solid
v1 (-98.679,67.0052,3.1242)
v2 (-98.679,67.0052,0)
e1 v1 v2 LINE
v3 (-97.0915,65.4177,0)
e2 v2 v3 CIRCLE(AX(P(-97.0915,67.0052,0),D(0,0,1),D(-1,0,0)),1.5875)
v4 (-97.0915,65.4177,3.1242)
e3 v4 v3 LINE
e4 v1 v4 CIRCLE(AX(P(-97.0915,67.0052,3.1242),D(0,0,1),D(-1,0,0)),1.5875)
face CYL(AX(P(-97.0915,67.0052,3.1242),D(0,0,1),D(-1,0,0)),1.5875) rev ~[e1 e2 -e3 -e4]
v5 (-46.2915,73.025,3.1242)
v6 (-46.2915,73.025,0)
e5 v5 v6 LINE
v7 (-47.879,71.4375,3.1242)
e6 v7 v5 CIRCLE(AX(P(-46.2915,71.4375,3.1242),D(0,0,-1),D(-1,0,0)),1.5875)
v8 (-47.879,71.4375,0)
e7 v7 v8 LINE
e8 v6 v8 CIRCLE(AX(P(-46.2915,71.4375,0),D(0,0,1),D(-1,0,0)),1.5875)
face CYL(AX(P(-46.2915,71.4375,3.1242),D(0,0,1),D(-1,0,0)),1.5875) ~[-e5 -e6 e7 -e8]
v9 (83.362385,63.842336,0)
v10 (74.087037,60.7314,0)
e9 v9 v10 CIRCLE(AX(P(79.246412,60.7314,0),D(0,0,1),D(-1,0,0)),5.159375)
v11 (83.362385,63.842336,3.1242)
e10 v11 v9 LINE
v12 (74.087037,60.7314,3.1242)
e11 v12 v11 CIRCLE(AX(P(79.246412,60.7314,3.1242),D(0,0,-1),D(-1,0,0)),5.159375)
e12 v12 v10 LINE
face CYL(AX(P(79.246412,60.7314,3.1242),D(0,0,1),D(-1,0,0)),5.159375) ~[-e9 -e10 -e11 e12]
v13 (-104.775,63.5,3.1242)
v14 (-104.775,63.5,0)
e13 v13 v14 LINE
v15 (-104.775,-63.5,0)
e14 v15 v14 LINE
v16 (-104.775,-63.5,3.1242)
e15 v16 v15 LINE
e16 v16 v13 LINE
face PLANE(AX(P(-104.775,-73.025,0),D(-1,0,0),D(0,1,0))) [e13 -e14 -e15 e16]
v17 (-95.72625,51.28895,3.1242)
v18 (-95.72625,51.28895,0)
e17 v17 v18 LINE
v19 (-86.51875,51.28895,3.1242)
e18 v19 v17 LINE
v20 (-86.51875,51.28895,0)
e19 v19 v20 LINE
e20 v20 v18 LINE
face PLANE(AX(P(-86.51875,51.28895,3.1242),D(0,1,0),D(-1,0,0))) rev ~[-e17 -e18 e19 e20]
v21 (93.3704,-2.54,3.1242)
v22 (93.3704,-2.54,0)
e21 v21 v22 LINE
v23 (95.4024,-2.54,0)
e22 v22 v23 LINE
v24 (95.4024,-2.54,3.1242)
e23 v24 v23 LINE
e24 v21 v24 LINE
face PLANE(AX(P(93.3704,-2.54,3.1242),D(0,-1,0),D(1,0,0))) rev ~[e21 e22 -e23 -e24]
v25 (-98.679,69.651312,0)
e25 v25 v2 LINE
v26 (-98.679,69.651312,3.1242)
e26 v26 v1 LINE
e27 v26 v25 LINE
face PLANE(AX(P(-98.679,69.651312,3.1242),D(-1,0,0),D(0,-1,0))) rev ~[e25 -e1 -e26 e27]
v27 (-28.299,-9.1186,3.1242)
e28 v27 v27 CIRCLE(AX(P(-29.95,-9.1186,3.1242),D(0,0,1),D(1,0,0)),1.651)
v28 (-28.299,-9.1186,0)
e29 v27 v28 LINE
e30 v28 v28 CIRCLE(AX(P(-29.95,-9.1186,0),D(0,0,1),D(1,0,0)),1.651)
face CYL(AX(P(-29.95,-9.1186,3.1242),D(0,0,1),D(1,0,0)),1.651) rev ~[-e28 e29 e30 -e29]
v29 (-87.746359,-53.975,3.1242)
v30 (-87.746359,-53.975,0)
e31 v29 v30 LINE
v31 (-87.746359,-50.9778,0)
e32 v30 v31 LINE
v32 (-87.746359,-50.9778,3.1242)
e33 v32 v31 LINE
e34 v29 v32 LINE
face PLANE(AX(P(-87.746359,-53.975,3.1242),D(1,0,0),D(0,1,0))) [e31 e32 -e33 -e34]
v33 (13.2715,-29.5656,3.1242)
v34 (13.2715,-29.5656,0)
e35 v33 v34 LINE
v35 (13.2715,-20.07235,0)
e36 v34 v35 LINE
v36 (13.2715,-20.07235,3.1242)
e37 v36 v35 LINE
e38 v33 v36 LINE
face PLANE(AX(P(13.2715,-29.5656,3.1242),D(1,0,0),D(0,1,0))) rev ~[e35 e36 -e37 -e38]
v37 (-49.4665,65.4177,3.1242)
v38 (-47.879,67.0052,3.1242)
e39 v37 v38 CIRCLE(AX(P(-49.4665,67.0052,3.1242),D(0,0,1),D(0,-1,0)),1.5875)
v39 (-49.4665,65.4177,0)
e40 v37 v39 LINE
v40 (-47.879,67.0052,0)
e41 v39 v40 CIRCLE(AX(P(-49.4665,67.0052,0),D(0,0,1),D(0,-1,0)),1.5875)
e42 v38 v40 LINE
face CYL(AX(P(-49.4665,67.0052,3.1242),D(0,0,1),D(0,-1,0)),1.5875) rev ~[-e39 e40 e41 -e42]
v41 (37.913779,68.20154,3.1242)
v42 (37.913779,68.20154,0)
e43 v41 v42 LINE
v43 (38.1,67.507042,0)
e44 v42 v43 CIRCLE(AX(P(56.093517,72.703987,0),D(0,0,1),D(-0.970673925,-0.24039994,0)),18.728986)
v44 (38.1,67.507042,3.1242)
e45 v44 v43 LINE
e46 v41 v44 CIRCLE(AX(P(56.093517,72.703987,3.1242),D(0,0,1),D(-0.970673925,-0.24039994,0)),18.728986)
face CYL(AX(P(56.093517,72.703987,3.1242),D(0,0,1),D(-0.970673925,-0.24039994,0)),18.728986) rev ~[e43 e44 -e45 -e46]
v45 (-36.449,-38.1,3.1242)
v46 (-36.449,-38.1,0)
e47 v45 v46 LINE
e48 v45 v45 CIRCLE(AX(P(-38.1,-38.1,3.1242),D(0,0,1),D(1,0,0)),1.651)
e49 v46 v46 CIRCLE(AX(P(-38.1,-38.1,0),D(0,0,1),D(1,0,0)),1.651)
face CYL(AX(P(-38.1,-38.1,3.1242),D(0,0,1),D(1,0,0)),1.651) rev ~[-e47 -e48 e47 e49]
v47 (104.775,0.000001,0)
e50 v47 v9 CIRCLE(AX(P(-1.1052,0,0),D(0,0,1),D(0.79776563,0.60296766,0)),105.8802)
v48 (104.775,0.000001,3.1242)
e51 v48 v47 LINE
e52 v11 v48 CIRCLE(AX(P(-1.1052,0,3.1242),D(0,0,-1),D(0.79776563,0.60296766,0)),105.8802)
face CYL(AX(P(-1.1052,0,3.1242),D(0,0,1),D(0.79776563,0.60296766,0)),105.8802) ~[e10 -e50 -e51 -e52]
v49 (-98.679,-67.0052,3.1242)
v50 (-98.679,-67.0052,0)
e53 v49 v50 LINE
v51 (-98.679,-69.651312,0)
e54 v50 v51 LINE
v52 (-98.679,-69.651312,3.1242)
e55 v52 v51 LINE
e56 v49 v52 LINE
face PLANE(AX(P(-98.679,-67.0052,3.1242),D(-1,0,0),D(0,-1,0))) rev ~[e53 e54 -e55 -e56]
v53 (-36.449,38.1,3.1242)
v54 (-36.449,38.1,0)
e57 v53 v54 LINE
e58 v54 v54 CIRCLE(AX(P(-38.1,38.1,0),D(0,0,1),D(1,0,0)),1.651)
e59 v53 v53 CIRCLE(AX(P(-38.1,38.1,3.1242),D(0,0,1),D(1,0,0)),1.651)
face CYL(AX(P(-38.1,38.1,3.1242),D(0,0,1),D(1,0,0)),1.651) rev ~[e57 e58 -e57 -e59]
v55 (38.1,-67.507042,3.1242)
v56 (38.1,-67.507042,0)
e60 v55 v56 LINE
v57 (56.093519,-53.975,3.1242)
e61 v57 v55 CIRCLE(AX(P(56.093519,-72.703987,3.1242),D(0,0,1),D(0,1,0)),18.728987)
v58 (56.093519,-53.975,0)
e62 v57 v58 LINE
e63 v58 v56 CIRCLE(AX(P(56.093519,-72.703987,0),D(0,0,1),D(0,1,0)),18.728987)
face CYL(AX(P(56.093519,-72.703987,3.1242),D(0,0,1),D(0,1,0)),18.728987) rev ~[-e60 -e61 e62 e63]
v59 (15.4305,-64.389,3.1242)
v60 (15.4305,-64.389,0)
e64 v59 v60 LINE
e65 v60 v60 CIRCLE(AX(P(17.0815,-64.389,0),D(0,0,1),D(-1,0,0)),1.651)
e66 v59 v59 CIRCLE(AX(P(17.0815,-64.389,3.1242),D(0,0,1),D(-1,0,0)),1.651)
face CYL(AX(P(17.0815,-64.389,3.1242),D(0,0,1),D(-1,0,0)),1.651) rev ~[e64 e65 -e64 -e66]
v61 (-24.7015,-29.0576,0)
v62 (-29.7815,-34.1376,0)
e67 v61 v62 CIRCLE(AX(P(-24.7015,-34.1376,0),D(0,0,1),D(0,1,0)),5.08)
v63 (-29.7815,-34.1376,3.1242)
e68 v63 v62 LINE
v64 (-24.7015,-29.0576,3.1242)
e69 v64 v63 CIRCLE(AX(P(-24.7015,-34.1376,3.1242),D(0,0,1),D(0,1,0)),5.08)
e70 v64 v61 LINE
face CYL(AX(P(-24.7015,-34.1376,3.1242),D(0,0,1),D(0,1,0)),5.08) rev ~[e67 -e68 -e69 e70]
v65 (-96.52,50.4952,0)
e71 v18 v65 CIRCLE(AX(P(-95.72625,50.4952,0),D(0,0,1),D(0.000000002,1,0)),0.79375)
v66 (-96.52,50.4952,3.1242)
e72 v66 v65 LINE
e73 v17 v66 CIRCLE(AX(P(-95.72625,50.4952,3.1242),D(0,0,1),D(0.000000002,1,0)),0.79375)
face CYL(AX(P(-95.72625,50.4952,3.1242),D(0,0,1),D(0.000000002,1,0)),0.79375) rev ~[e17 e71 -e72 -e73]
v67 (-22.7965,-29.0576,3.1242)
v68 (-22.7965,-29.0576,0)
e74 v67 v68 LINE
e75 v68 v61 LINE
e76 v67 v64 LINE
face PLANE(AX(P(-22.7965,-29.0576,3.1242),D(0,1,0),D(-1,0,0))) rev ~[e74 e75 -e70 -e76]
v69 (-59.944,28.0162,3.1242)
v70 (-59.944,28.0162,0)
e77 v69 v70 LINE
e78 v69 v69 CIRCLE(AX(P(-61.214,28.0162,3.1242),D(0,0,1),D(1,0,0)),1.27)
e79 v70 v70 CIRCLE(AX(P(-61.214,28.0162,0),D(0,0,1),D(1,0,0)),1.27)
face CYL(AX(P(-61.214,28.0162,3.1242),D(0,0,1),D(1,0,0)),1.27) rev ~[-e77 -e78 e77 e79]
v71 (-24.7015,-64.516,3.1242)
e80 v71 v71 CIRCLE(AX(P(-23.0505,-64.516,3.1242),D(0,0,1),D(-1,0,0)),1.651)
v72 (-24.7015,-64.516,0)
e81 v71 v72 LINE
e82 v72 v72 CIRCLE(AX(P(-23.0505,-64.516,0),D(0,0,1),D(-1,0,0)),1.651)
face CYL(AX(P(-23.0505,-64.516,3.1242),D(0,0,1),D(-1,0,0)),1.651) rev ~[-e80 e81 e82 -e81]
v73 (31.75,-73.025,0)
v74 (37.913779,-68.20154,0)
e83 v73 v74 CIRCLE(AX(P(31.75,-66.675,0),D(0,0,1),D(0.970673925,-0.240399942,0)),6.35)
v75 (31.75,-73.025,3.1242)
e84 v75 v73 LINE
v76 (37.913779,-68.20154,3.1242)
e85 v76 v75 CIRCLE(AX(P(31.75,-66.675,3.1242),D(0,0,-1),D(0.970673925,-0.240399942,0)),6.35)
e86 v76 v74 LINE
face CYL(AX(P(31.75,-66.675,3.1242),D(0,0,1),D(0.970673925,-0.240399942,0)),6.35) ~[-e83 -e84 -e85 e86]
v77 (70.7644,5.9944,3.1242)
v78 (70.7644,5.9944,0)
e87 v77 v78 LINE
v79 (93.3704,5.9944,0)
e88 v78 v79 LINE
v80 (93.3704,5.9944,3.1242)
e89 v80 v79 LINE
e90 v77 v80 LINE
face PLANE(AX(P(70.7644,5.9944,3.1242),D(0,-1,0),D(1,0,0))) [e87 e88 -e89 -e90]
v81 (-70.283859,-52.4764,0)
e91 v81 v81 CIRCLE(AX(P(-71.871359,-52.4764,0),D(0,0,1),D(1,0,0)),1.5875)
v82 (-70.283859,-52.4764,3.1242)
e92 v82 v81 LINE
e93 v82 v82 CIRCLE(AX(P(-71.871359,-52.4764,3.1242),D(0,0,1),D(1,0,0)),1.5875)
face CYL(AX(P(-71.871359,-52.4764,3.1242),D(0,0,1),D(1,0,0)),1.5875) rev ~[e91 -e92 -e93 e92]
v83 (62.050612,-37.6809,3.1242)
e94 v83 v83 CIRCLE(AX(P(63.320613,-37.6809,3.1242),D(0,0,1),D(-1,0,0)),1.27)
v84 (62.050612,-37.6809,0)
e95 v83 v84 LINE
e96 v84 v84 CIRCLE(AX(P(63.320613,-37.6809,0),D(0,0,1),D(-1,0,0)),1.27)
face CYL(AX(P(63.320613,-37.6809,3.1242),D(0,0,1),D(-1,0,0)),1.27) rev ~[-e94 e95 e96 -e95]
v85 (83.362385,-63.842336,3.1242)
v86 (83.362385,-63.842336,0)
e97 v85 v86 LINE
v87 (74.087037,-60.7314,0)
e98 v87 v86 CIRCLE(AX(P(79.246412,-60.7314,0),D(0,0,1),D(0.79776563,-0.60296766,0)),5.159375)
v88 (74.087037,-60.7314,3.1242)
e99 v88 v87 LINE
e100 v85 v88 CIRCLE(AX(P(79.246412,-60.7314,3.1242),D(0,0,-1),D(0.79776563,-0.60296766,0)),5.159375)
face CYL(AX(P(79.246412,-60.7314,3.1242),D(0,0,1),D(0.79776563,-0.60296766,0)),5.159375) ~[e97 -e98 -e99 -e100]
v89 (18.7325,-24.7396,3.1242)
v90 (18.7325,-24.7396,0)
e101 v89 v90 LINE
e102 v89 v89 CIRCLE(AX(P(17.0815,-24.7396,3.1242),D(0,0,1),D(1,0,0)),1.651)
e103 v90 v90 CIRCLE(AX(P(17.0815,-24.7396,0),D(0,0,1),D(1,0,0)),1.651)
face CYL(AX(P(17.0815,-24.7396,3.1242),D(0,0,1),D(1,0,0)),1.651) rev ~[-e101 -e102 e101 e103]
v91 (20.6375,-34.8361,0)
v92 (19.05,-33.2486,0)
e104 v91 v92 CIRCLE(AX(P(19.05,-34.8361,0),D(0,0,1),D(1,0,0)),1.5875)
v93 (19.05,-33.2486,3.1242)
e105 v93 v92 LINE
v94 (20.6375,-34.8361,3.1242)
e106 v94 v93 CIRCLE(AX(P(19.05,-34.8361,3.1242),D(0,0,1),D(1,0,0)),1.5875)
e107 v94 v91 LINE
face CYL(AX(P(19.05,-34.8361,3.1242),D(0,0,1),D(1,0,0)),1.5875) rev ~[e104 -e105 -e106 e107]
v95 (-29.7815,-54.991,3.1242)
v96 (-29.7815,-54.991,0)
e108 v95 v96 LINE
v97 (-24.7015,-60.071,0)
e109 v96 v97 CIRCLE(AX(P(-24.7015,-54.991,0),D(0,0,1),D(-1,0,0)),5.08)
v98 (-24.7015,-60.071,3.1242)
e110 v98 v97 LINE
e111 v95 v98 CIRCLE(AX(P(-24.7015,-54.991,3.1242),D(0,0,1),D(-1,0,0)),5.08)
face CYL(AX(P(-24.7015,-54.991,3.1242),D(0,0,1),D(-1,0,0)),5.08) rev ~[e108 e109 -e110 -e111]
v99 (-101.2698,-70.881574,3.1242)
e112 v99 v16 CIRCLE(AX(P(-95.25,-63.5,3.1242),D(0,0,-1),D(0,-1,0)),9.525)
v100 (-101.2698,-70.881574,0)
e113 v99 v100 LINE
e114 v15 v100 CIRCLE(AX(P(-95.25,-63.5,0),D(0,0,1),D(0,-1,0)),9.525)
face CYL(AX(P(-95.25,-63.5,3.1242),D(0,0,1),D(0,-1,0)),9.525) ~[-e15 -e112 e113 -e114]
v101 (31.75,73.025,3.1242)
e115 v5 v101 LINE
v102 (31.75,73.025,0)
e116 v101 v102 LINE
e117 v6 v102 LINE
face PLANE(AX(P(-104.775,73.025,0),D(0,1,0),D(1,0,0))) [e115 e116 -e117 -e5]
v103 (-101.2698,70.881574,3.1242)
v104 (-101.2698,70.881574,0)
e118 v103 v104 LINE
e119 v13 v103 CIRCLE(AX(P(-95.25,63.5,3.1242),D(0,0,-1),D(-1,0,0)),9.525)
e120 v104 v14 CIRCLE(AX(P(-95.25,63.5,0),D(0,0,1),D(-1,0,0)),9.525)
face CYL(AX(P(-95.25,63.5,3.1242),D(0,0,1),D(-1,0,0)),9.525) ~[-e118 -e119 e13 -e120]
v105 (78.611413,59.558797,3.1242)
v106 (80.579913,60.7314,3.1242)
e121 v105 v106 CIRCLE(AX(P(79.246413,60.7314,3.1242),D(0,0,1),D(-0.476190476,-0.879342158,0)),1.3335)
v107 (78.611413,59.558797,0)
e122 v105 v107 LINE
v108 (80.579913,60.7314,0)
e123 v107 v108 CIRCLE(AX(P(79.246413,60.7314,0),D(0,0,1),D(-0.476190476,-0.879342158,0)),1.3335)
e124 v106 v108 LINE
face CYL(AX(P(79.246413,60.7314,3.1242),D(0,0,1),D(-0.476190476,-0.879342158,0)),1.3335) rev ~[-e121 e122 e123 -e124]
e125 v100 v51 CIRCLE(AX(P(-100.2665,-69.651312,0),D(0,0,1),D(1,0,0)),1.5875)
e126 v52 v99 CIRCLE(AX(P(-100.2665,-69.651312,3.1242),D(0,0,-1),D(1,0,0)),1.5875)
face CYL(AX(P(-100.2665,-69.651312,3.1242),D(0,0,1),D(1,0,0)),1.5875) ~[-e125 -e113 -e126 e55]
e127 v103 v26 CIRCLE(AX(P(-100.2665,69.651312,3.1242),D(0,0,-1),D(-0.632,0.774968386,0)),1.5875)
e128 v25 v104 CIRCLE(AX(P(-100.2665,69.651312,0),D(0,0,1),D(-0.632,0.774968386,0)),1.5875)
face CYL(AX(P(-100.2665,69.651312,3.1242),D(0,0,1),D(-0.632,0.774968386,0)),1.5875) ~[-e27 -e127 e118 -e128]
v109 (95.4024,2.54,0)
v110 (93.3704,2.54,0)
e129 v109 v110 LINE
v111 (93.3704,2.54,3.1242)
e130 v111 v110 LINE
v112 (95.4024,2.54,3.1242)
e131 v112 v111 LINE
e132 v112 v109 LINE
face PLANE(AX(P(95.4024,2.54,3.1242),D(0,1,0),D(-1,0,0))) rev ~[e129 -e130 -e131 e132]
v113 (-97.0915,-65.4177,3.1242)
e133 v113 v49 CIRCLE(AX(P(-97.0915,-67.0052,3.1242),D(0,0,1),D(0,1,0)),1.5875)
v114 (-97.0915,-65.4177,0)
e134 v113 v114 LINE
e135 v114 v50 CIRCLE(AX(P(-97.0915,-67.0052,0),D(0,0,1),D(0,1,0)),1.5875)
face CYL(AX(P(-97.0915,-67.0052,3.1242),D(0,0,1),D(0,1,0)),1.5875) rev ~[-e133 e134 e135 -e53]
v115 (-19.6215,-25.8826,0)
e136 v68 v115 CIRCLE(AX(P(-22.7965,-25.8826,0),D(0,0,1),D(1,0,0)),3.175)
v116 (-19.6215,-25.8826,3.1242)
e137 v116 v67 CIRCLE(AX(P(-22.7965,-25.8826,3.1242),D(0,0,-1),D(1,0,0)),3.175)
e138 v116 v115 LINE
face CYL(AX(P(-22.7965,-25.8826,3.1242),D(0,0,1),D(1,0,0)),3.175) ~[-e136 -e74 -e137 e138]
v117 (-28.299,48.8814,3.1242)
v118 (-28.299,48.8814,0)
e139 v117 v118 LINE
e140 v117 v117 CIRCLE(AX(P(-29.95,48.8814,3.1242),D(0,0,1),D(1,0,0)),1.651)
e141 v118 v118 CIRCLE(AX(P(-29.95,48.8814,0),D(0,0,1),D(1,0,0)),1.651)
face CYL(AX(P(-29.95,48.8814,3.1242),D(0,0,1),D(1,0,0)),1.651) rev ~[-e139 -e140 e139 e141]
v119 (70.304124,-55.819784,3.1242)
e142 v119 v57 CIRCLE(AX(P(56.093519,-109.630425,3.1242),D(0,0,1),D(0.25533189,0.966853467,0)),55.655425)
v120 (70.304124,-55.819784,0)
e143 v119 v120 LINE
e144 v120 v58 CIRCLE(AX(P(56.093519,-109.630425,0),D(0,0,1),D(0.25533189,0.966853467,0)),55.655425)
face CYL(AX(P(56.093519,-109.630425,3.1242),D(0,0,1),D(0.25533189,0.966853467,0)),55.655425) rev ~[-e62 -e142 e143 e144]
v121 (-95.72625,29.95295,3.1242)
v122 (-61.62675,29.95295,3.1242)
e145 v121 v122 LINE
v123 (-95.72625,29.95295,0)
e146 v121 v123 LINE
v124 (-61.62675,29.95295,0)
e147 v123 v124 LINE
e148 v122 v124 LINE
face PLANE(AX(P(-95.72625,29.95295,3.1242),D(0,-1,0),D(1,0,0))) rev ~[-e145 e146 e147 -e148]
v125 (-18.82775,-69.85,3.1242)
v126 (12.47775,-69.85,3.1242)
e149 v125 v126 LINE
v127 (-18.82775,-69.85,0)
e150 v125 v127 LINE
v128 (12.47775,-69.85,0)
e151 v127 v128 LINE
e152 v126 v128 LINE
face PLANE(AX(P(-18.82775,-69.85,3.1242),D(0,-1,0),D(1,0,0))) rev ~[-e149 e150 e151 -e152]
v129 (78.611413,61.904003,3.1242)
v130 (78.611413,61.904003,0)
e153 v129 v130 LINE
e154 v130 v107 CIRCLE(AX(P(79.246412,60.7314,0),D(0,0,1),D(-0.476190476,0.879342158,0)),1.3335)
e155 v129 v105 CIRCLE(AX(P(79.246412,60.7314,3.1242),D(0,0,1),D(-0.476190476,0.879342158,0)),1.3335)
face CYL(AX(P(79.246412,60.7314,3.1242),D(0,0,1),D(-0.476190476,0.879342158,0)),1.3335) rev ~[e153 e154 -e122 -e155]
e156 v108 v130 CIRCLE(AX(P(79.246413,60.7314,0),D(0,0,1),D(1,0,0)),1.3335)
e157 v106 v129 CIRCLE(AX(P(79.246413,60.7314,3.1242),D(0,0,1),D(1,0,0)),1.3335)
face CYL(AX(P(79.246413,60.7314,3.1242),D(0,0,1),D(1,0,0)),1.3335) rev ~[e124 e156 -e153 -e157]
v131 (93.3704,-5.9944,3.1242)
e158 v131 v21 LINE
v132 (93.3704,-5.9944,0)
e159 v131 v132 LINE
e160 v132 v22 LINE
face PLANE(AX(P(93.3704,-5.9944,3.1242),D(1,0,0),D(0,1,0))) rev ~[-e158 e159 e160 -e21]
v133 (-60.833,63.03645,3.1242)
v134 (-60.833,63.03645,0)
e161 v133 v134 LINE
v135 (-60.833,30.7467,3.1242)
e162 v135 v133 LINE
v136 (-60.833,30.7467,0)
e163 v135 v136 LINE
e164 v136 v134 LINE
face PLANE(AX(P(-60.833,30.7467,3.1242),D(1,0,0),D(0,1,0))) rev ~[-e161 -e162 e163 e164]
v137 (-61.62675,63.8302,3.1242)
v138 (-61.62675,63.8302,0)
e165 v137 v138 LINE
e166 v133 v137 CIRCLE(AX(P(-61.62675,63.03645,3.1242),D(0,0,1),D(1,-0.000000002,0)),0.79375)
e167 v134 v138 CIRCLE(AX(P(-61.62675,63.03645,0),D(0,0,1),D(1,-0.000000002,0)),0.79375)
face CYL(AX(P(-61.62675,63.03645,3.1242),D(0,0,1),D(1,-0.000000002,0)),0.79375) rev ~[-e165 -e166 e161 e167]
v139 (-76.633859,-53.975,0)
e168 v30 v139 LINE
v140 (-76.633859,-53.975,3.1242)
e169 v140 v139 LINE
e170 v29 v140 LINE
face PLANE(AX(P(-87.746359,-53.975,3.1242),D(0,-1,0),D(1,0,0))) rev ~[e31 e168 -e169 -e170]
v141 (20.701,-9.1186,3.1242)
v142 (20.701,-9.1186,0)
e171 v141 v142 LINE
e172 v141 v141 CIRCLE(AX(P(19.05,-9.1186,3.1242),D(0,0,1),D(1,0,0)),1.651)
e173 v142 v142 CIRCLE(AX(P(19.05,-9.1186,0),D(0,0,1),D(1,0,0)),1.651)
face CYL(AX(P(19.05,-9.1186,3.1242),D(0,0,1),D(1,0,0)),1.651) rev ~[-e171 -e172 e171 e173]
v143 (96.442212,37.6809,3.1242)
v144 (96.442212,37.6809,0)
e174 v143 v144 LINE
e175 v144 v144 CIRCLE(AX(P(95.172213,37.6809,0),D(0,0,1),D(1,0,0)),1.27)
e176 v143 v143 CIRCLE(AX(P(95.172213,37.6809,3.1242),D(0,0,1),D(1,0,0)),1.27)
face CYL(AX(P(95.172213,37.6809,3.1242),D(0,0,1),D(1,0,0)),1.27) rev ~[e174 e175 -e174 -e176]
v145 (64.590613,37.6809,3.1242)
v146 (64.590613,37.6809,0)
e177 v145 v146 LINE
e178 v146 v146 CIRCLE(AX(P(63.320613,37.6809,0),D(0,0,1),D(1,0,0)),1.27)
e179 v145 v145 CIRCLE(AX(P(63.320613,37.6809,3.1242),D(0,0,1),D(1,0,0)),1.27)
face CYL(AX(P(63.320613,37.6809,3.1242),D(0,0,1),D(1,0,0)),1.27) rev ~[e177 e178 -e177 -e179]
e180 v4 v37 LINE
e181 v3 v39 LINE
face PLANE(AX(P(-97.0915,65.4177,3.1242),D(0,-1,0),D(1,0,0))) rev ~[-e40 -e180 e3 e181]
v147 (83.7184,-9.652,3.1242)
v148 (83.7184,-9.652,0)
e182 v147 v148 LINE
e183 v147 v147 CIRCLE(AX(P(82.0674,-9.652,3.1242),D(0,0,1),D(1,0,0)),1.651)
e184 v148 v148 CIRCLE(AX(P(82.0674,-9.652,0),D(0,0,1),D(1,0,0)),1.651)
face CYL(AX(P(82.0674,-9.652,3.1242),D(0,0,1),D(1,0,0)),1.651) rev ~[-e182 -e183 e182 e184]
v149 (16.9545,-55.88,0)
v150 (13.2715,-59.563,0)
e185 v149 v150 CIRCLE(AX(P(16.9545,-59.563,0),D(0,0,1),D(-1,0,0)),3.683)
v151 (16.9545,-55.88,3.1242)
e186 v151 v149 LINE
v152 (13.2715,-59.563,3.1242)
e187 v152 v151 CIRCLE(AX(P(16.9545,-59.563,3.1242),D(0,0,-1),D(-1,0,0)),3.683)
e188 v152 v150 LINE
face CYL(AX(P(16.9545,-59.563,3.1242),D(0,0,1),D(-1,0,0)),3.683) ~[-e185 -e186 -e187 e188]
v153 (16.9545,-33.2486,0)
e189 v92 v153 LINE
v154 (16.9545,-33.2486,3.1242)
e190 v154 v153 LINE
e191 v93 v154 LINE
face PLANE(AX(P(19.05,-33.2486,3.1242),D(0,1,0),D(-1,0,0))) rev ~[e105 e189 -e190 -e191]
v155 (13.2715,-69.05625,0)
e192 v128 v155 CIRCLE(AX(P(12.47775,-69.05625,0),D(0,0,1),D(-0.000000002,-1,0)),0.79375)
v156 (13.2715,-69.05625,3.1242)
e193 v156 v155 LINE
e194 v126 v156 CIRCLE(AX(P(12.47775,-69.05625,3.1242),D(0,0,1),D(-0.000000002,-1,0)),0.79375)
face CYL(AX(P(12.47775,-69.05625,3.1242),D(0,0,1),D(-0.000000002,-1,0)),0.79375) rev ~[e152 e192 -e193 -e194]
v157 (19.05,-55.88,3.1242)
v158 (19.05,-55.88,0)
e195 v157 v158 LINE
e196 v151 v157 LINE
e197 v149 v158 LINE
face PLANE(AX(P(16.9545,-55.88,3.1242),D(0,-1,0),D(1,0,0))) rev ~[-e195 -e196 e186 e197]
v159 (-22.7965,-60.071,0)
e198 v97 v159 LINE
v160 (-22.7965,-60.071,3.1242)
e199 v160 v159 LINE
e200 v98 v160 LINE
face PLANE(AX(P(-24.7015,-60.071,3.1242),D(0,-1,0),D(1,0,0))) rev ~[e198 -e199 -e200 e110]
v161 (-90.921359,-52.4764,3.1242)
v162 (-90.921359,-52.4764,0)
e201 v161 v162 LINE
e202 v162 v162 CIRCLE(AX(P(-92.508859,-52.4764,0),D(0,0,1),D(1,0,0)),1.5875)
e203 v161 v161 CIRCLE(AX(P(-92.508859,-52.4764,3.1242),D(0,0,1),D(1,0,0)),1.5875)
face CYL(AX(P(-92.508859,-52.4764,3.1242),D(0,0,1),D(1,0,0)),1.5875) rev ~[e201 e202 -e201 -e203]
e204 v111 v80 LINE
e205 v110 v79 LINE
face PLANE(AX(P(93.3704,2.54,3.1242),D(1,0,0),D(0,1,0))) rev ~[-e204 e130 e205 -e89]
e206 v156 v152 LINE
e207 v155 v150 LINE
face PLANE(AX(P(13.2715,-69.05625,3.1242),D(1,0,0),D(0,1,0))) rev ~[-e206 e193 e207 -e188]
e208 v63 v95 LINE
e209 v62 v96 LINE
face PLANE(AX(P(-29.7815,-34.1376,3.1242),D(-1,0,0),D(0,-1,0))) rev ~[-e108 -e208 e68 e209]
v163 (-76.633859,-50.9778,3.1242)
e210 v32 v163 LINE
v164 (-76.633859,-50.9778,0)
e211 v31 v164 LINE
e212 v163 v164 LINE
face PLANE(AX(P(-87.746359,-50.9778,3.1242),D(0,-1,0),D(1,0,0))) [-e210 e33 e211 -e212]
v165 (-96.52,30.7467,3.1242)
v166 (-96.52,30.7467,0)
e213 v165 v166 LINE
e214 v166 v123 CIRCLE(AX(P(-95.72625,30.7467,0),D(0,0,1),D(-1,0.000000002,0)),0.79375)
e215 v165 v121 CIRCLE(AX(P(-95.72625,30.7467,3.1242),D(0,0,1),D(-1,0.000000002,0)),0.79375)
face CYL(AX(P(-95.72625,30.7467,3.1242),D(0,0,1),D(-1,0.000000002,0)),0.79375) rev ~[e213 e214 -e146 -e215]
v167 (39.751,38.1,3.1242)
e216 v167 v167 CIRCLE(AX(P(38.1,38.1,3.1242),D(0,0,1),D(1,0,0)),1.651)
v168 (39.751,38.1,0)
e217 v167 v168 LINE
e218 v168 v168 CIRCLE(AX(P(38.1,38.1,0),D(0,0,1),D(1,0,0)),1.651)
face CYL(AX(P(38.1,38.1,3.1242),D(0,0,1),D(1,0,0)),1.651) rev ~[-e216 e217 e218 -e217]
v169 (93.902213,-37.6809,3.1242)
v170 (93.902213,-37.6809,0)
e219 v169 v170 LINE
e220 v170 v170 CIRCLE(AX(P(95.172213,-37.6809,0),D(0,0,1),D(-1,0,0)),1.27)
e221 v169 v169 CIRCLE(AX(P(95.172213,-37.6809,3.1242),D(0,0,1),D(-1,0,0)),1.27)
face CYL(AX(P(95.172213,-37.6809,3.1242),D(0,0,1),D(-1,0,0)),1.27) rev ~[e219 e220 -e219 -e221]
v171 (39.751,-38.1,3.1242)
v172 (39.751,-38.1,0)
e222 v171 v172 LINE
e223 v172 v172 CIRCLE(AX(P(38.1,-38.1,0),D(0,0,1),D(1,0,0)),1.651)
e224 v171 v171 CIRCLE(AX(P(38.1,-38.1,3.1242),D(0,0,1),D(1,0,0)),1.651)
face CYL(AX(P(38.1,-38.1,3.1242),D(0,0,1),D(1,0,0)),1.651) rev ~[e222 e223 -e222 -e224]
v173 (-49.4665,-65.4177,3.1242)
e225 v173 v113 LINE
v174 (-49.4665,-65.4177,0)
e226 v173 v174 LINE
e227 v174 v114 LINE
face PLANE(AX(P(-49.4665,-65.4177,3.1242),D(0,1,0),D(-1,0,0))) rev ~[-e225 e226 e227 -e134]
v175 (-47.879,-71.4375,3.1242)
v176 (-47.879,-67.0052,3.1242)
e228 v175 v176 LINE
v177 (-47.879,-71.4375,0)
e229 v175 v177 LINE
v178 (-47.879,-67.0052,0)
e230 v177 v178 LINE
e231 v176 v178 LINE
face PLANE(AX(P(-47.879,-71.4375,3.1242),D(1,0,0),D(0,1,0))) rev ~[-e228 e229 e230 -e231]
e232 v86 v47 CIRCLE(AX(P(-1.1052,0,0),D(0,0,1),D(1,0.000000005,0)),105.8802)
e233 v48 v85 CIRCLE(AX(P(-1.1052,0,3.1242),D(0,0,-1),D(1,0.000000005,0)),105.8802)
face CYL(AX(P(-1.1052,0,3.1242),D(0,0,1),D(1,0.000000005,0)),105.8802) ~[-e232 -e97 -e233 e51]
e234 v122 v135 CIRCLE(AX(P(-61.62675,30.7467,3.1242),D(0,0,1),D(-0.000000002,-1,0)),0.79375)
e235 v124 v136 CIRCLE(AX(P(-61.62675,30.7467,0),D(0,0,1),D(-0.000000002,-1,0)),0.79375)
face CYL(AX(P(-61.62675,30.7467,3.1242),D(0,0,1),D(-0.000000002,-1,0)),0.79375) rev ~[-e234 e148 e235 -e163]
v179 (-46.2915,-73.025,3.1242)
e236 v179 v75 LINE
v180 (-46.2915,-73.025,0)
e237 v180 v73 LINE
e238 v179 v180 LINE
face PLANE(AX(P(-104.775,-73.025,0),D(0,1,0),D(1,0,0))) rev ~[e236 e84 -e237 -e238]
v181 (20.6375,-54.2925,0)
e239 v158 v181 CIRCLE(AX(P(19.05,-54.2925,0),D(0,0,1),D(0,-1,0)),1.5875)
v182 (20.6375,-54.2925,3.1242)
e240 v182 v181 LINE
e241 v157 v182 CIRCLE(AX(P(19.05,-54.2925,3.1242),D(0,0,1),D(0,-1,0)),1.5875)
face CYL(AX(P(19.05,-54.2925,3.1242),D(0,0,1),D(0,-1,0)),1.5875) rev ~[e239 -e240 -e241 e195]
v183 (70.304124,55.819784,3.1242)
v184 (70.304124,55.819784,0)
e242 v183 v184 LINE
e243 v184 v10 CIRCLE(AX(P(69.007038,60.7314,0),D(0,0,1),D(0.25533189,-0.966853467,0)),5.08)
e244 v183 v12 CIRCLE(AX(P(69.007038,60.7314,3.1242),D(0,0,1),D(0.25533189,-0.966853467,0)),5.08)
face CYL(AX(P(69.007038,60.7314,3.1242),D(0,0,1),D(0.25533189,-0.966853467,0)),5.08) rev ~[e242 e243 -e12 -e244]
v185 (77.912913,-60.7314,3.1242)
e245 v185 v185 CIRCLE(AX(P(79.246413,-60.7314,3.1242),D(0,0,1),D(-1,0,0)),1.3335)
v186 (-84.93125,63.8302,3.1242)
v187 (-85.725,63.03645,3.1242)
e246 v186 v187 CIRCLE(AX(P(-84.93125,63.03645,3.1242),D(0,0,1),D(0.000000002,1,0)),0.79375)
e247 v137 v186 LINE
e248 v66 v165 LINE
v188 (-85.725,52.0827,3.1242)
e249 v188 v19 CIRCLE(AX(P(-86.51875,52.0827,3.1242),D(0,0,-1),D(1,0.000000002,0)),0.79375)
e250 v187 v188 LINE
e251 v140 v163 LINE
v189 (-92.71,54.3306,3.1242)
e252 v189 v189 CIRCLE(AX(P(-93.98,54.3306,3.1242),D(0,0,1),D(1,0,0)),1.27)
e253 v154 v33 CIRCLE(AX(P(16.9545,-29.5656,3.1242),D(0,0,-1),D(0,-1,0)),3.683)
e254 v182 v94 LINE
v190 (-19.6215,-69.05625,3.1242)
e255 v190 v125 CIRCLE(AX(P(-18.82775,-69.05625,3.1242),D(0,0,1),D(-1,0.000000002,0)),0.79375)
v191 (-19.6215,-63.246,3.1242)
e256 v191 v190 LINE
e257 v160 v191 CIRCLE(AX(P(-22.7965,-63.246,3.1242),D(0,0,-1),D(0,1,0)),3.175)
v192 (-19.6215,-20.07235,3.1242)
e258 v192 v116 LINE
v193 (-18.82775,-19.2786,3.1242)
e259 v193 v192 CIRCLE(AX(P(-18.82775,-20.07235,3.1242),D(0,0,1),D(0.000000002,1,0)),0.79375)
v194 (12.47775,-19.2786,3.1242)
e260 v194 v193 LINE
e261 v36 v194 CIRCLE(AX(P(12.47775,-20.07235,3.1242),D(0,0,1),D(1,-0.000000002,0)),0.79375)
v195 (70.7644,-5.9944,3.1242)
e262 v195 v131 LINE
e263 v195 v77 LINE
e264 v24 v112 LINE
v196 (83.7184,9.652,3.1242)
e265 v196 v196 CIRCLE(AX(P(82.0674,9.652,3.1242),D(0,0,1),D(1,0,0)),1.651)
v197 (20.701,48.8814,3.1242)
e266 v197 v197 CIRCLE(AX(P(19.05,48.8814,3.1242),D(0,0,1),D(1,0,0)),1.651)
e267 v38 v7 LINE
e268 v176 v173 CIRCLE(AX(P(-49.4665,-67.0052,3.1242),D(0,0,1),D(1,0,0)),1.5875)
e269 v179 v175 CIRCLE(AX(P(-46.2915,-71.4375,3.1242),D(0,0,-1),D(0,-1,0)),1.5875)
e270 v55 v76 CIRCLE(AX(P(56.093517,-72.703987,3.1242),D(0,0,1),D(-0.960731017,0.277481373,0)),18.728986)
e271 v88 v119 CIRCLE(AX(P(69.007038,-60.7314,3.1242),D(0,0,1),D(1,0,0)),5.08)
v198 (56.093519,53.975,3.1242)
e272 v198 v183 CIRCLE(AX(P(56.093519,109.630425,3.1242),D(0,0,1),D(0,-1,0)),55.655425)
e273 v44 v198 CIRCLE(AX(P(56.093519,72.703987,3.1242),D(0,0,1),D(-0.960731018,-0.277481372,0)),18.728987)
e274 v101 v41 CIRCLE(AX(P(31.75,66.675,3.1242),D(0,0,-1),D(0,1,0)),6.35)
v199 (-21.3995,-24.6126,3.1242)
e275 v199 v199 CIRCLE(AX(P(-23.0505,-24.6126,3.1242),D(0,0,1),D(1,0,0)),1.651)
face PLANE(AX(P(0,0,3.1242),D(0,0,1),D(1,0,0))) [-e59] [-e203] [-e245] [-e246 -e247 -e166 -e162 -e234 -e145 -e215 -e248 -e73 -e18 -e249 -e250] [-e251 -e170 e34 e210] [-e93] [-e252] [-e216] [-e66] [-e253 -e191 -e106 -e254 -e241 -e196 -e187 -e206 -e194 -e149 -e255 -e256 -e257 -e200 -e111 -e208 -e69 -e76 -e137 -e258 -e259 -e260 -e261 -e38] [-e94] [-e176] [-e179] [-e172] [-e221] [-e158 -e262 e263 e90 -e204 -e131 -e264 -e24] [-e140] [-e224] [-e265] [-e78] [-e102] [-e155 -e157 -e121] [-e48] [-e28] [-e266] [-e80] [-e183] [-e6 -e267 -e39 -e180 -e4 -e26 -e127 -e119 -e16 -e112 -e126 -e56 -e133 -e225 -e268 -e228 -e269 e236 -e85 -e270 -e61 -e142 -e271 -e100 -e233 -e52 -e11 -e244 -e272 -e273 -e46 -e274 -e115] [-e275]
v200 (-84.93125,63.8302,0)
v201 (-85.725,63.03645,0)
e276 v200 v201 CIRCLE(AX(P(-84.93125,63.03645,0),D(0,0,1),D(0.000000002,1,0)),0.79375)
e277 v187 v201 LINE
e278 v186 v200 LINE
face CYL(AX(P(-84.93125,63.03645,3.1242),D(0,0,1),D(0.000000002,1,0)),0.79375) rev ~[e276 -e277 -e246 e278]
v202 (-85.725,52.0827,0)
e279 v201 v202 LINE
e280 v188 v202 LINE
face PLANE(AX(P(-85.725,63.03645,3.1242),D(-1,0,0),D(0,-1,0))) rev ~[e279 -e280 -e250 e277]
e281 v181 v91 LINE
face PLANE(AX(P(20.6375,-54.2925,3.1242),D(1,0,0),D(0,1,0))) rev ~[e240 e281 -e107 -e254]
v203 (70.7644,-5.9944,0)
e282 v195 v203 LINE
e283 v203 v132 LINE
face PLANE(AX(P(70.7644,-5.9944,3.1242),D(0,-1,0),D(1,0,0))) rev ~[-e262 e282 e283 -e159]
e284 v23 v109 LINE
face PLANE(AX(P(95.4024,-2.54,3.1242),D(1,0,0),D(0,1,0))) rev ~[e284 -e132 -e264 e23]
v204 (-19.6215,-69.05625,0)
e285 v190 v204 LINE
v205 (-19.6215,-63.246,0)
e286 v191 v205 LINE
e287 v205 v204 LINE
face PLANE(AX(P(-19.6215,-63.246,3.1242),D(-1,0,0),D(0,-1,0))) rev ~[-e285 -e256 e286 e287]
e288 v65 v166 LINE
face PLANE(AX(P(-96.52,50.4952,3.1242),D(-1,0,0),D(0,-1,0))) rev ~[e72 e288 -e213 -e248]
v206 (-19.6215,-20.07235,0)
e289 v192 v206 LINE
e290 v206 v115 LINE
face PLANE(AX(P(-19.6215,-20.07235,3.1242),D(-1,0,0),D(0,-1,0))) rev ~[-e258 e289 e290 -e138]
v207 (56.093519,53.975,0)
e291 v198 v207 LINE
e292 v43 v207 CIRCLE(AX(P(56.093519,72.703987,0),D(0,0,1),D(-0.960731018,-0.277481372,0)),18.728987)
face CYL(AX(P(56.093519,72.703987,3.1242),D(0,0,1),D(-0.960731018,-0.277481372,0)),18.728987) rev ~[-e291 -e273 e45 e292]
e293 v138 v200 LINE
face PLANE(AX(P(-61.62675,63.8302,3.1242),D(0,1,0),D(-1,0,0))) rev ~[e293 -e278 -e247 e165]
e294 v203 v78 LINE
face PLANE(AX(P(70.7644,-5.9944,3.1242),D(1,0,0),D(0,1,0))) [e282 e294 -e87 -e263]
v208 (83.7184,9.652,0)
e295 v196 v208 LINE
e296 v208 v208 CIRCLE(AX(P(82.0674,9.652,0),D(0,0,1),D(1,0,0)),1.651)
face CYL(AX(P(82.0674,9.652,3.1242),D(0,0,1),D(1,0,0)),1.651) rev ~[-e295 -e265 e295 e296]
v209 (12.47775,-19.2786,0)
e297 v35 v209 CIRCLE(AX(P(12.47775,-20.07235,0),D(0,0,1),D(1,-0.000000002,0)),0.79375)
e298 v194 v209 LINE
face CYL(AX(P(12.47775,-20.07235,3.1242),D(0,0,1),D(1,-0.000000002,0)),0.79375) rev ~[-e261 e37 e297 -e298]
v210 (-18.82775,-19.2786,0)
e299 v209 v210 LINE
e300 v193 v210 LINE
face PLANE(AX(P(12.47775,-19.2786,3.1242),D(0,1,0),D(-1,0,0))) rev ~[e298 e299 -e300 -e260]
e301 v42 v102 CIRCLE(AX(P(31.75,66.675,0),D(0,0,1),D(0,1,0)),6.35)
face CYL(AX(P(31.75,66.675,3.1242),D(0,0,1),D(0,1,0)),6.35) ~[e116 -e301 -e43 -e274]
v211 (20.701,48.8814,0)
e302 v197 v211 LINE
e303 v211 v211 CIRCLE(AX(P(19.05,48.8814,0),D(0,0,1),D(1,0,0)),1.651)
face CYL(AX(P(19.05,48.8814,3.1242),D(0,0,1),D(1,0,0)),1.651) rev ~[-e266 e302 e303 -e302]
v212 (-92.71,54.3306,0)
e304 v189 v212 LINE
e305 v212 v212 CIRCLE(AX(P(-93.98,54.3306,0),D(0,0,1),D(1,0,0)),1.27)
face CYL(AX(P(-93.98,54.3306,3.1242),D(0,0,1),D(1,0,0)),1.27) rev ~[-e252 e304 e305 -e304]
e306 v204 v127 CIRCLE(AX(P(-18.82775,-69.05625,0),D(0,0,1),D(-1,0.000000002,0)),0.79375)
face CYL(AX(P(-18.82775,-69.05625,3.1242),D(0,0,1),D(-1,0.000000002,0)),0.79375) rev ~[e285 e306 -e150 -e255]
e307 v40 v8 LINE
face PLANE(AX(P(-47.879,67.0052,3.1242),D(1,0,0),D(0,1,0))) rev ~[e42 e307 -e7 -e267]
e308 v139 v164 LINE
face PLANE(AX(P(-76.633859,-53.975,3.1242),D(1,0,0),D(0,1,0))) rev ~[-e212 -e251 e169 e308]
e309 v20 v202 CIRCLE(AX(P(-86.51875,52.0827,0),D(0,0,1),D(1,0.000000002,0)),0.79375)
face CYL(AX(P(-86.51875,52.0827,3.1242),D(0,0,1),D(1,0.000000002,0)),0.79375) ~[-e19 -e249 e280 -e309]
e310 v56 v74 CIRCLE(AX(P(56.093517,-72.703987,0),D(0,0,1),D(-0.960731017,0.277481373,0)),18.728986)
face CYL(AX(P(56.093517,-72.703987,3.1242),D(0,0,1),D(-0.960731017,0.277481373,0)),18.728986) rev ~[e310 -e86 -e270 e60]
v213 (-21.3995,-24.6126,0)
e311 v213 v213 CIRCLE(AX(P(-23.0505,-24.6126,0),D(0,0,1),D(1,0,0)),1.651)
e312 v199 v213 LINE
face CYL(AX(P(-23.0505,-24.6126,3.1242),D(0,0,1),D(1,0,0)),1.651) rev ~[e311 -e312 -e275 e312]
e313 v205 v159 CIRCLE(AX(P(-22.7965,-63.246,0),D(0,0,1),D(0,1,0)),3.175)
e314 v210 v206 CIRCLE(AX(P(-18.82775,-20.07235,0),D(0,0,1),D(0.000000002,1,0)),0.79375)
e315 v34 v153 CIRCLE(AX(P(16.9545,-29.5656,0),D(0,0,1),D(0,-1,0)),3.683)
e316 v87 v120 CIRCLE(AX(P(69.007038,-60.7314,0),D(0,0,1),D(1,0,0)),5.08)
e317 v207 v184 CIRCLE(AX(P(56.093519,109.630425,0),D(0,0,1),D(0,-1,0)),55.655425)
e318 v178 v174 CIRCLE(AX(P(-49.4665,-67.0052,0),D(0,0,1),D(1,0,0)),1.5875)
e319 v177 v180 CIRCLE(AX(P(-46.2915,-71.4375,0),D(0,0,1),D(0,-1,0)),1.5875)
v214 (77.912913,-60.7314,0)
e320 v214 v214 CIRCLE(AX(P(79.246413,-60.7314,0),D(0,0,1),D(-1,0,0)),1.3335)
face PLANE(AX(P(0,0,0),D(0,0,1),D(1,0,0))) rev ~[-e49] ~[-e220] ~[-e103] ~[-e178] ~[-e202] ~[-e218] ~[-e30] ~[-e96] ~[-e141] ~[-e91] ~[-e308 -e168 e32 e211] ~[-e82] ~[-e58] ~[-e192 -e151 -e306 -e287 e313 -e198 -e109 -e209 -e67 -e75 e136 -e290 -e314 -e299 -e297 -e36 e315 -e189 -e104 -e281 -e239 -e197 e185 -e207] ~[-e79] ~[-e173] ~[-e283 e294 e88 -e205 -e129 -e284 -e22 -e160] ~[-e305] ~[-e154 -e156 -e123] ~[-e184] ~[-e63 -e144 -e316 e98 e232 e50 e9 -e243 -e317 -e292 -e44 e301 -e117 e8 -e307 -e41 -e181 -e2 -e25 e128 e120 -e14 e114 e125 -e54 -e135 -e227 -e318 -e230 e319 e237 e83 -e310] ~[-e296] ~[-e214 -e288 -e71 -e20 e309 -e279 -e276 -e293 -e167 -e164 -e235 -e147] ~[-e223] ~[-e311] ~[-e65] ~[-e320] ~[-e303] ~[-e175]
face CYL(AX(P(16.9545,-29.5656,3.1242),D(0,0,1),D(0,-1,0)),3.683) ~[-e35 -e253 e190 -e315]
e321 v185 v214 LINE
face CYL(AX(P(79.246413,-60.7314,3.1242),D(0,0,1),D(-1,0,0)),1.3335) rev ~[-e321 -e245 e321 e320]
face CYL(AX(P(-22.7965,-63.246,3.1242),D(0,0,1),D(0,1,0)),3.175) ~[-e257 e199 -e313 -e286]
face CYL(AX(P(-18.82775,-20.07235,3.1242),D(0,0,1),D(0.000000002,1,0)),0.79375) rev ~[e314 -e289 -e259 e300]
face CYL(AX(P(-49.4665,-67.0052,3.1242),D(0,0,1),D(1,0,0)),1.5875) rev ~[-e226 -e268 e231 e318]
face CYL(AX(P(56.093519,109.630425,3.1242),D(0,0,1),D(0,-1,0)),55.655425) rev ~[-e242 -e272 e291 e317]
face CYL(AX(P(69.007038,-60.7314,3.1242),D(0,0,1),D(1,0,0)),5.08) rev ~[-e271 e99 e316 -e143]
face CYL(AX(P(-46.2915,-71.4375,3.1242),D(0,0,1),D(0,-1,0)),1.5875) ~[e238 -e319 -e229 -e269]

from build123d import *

# Parameters (mm, degrees)
CROQUIS1_W                = 209.55
CROQUIS1_H                = 146.05
SALIENTE_EXTRUIR1_DEPTH   = 3.1242
CROQUIS2_R                = 1.3335
CORTAR_EXTRUIR1_DEPTH     = 128.750584639
CROQUIS9_R                = 1.27
CORTAR_EXTRUIR6_DEPTH     = 128.750584639
CORTAR_EXTRUIR2_DEPTH     = 128.750584639
CROQUIS5_R                = 1.651
DRIVER_DEPTH              = 128.750584639
CROQUIS6_R                = 1.651
RASPI_DEPTH               = 128.750584639
CROQUIS8_R                = 1.27
DIFERENCIAL_TRASERO_DEPTH = 128.750584639
CROQUIS7_R                = 1.5875
CROQUIS7_W                = 11.1125
CROQUIS7_H                = 2.9972
CORTAR_EXTRUIR7_DEPTH     = 128.750584639
CROQUIS10_R               = 1.651
CROQUIS10_W               = 22.606
CROQUIS10_H               = 11.9888
CORTAR_EXTRUIR10_DEPTH    = 128.750584639
CORTAR_EXTRUIR11_DEPTH    = 128.750584639
CROQUIS12_R               = 1.651
CORTAR_EXTRUIR12_DEPTH    = 128.750584639


with BuildPart() as part:
    # Croquis1 → Saliente-Extruir1 (new body)
    with BuildSketch(Plane.XY):
        Rectangle(CROQUIS1_W, CROQUIS1_H)
    extrude(amount=SALIENTE_EXTRUIR1_DEPTH)

    # Croquis2 → Cortar-Extruir1 (cut, through all)
    with BuildSketch(Plane.XY.offset(3.1242)):
        with BuildLine():
            ThreePointArc((80.5799125, 60.7314), (79.928852882, 61.877042778), (78.6114125, 61.904002767))
            Line((78.6114125, 61.904002767), (78.6114125, 59.558797233))
            ThreePointArc((78.6114125, 59.558797233), (79.928852882, 59.585757222), (80.5799125, 60.7314))
        make_face()
        with BuildLine():
            Line((78.6114125, 59.558797233), (78.6114125, 61.904002767))
            ThreePointArc((78.6114125, 61.904002767), (77.9129125, 60.7314), (78.6114125, 59.558797233))
        make_face()
        with Locations(Location((79.2464125, -60.7314, 0), (0, 0, 180))):
            Circle(CROQUIS2_R)
    extrude(amount=-CORTAR_EXTRUIR1_DEPTH, mode=Mode.SUBTRACT)

    # Croquis9 → Cortar-Extruir6 (cut, through all)
    with BuildSketch(Plane.XY.offset(3.1242)):
        with Locations((63.3206125, 37.6809)):
            Circle(CROQUIS9_R)
        with Locations((95.1722125, 37.6809)):
            Circle(CROQUIS9_R)
        with Locations(Location((95.1722125, -37.6809, 0), (0, 0, 180))):
            Circle(CROQUIS9_R)
        with Locations(Location((63.3206125, -37.6809, 0), (0, 0, 180))):
            Circle(CROQUIS9_R)
    extrude(amount=-CORTAR_EXTRUIR6_DEPTH, mode=Mode.SUBTRACT)

    # Croquis3 → Cortar-Extruir2 (cut, through all)
    with BuildSketch(Plane.XY.offset(3.1242)):
        with BuildLine():
            Line((38.1, 67.507041999), (38.1, 73.025))
            Line((38.1, 73.025), (31.75, 73.025))
            ThreePointArc((31.75, 73.025), (35.663372801, 71.675801268), (37.913779422, 68.201539629))
            ThreePointArc((37.913779422, 68.201539629), (38.003556568, 67.853397075), (38.1, 67.507041999))
        make_face()
        with BuildLine():
            Line((74.0870375, 73.025), (38.1, 73.025))
            Line((38.1, 73.025), (38.1, 67.507041999))
            ThreePointArc((38.1, 67.507041999), (44.836488972, 57.735545708), (56.09351875, 53.975))
            ThreePointArc((56.09351875, 53.975), (63.258442282, 54.43812298), (70.304123502, 55.81978439))
            ThreePointArc((70.304123502, 55.81978439), (73.03168636, 57.631625564), (74.0870375, 60.7314))
            Line((74.0870375, 60.7314), (74.0870375, 73.025))
        make_face()
        with BuildLine():
            Line((104.775, 73.025), (74.0870375, 73.025))
            Line((74.0870375, 73.025), (74.0870375, 60.7314))
            ThreePointArc((74.0870375, 60.7314), (77.605786537, 65.622974066), (83.362384549, 63.842336271))
            ThreePointArc((83.362384549, 63.842336271), (99.279214777, 33.668769191), (104.775, 5.82e-07))
            Line((104.775, 5.82e-07), (104.775, 73.025))
        make_face()
        with BuildLine():
            Line((104.775, -73.025), (104.775, 5.82e-07))
            ThreePointArc((104.775, 5.82e-07), (99.279214962, -33.668768639), (83.362384549, -63.842336271))
            ThreePointArc((83.362384549, -63.842336271), (77.605786537, -65.622974066), (74.0870375, -60.7314))
            Line((74.0870375, -60.7314), (74.0870375, -73.025))
            Line((74.0870375, -73.025), (104.775, -73.025))
        make_face()
        with BuildLine():
            Line((74.0870375, -73.025), (74.0870375, -60.7314))
            ThreePointArc((74.0870375, -60.7314), (73.03168636, -57.631625564), (70.304123502, -55.81978439))
            ThreePointArc((70.304123502, -55.81978439), (63.258442282, -54.43812298), (56.09351875, -53.975))
            ThreePointArc((56.09351875, -53.975), (44.836488972, -57.735545708), (38.1, -67.507041999))
            Line((38.1, -67.507041999), (38.1, -73.025))
            Line((38.1, -73.025), (74.0870375, -73.025))
        make_face()
        with BuildLine():
            ThreePointArc((37.913779422, -68.201539629), (35.663372801, -71.675801268), (31.75, -73.025))
            Line((31.75, -73.025), (38.1, -73.025))
            Line((38.1, -73.025), (38.1, -67.507041999))
            ThreePointArc((38.1, -67.507041999), (38.003556568, -67.853397075), (37.913779422, -68.201539629))
        make_face()
        with BuildLine():
            ThreePointArc((-104.775, 63.5), (-101.985192091, 70.235192091), (-95.25, 73.025))
            Line((-95.25, 73.025), (-104.775, 73.025))
            Line((-104.775, 73.025), (-104.775, 63.5))
        make_face()
        with BuildLine():
            Line((-104.775, -73.025), (-95.25, -73.025))
            ThreePointArc((-95.25, -73.025), (-101.985192091, -70.235192091), (-104.775, -63.5))
            Line((-104.775, -63.5), (-104.775, -73.025))
        make_face()
    extrude(amount=-CORTAR_EXTRUIR2_DEPTH, mode=Mode.SUBTRACT)

    # Croquis5 → Driver (cut, through all)
    with BuildSketch(Plane.XY.offset(3.1242)):
        with BuildLine():
            Line((12.47775, -19.2786), (-18.82775, -19.2786))
            ThreePointArc((-18.82775, -19.2786), (-19.389016008, -19.511083992), (-19.6215, -20.07235))
            Line((-19.6215, -20.07235), (-19.6215, -25.8826))
            ThreePointArc((-19.6215, -25.8826), (-20.55143597, -28.12766403), (-22.7965, -29.0576))
            Line((-22.7965, -29.0576), (-24.7015, -29.0576))
            ThreePointArc((-24.7015, -29.0576), (-28.293602448, -30.545497552), (-29.7815, -34.1376))
            Line((-29.7815, -34.1376), (-29.7815, -54.991))
            ThreePointArc((-29.7815, -54.991), (-28.293602448, -58.583102448), (-24.7015, -60.071))
            Line((-24.7015, -60.071), (-22.7965, -60.071))
            ThreePointArc((-22.7965, -60.071), (-20.55143597, -61.00093597), (-19.6215, -63.246))
            Line((-19.6215, -63.246), (-19.6215, -69.05625))
            ThreePointArc((-19.6215, -69.05625), (-19.389016008, -69.617516008), (-18.82775, -69.85))
            Line((-18.82775, -69.85), (12.47775, -69.85))
            ThreePointArc((12.47775, -69.85), (13.039016008, -69.617516008), (13.2715, -69.05625))
            Line((13.2715, -69.05625), (13.2715, -59.563))
            ThreePointArc((13.2715, -59.563), (14.350225725, -56.958725725), (16.9545, -55.88))
            Line((16.9545, -55.88), (19.05, -55.88))
            ThreePointArc((19.05, -55.88), (20.172532015, -55.415032015), (20.6375, -54.2925))
            Line((20.6375, -54.2925), (20.6375, -34.8361))
            ThreePointArc((20.6375, -34.8361), (20.172532015, -33.713567985), (19.05, -33.2486))
            Line((19.05, -33.2486), (16.9545, -33.2486))
            ThreePointArc((16.9545, -33.2486), (14.350225725, -32.169874275), (13.2715, -29.5656))
            Line((13.2715, -29.5656), (13.2715, -20.07235))
            ThreePointArc((13.2715, -20.07235), (13.039016008, -19.511083992), (12.47775, -19.2786))
        make_face()
        with Locations((17.0815, -24.7396)):
            Circle(CROQUIS5_R)
        with Locations((-23.0505, -24.6126)):
            Circle(CROQUIS5_R)
        with Locations(Location((17.0815, -64.389, 0), (0, 0, 180))):
            Circle(CROQUIS5_R)
        with Locations(Location((-23.0505, -64.516, 0), (0, 0, 180))):
            Circle(CROQUIS5_R)
    extrude(amount=-DRIVER_DEPTH, mode=Mode.SUBTRACT)

    # Croquis6 → RasPi (cut, through all)
    with BuildSketch(Plane.XY.offset(3.1242)):
        with Locations((-29.95, 48.8814)):
            Circle(CROQUIS6_R)
        with Locations((19.05, 48.8814)):
            Circle(CROQUIS6_R)
        with Locations((19.05, -9.1186)):
            Circle(CROQUIS6_R)
        with Locations((-29.95, -9.1186)):
            Circle(CROQUIS6_R)
    extrude(amount=-RASPI_DEPTH, mode=Mode.SUBTRACT)

    # Croquis8 → Diferencial trasero (cut, through all)
    with BuildSketch(Plane.XY.offset(3.1242)):
        with Locations((-93.98, 54.3306)):
            Circle(CROQUIS8_R)
        with Locations((-61.214, 28.0162)):
            Circle(CROQUIS8_R)
    extrude(amount=-DIFERENCIAL_TRASERO_DEPTH, mode=Mode.SUBTRACT)

    # Croquis7 → Cortar-Extruir7 (cut, through all)
    with BuildSketch(Plane.XY.offset(3.1242)):
        with Locations((-92.508859415, -52.4764)):
            Circle(CROQUIS7_R)
        with Locations((-71.871359415, -52.4764)):
            Circle(CROQUIS7_R)
        with Locations((-82.190109415, -52.4764)):
            Rectangle(CROQUIS7_W, CROQUIS7_H)
    extrude(amount=-CORTAR_EXTRUIR7_DEPTH, mode=Mode.SUBTRACT)

    # Croquis10 → Cortar-Extruir10 (cut, through all)
    with BuildSketch(Plane.XY.offset(3.1242)):
        with Locations((82.0674, 9.652)):
            Circle(CROQUIS10_R)
        with Locations((82.0674, 0)):
            Rectangle(CROQUIS10_W, CROQUIS10_H)
        with Locations((82.0674, -9.652)):
            Circle(CROQUIS10_R)
        Polygon((93.3704, -1.966579717), (93.3704, -2.54), (95.4024, -2.54), (95.4024, 2.54), (93.3704, 2.54), align=None)
    extrude(amount=-CORTAR_EXTRUIR10_DEPTH, mode=Mode.SUBTRACT)

    # Croquis11 → Cortar-Extruir11 (cut, through all)
    with BuildSketch(Plane.XY.offset(3.1242)):
        with BuildLine():
            Line((-61.62675, 63.8302), (-84.93125, 63.8302))
            ThreePointArc((-84.93125, 63.8302), (-85.492516008, 63.597716008), (-85.725, 63.03645))
            Line((-85.725, 63.03645), (-85.725, 52.0827))
            ThreePointArc((-85.725, 52.0827), (-85.957483992, 51.521433992), (-86.51875, 51.28895))
            Line((-86.51875, 51.28895), (-95.72625, 51.28895))
            ThreePointArc((-95.72625, 51.28895), (-96.287516008, 51.056466008), (-96.52, 50.4952))
            Line((-96.52, 50.4952), (-96.52, 30.7467))
            ThreePointArc((-96.52, 30.7467), (-96.287516008, 30.185433992), (-95.72625, 29.95295))
            Line((-95.72625, 29.95295), (-61.62675, 29.95295))
            ThreePointArc((-61.62675, 29.95295), (-61.065483992, 30.185433992), (-60.833, 30.7467))
            Line((-60.833, 30.7467), (-60.833, 63.03645))
            ThreePointArc((-60.833, 63.03645), (-61.065483992, 63.597716008), (-61.62675, 63.8302))
        make_face()
        with BuildLine():
            ThreePointArc((-95.25, 73.025), (-98.445006556, 72.473157644), (-101.2698, 70.881573881))
            ThreePointArc((-101.2698, 70.881573881), (-99.585538364, 71.085343471), (-98.679, 69.651311567))
            Line((-98.679, 69.651311567), (-98.679, 67.0052))
            ThreePointArc((-98.679, 67.0052), (-98.214032015, 65.882667985), (-97.0915, 65.4177))
            Line((-97.0915, 65.4177), (-49.4665, 65.4177))
            ThreePointArc((-49.4665, 65.4177), (-48.343967985, 65.882667985), (-47.879, 67.0052))
            Line((-47.879, 67.0052), (-47.879, 71.4375))
            ThreePointArc((-47.879, 71.4375), (-47.414032015, 72.560032015), (-46.2915, 73.025))
            Line((-46.2915, 73.025), (-95.25, 73.025))
        make_face()
        with BuildLine():
            ThreePointArc((-98.679, -69.651311567), (-99.585538364, -71.085343471), (-101.2698, -70.881573881))
            ThreePointArc((-101.2698, -70.881573881), (-98.445006556, -72.473157644), (-95.25, -73.025))
            Line((-95.25, -73.025), (-46.2915, -73.025))
            ThreePointArc((-46.2915, -73.025), (-47.414032015, -72.560032015), (-47.879, -71.4375))
            Line((-47.879, -71.4375), (-47.879, -67.0052))
            ThreePointArc((-47.879, -67.0052), (-48.343967985, -65.882667985), (-49.4665, -65.4177))
            Line((-49.4665, -65.4177), (-97.0915, -65.4177))
            ThreePointArc((-97.0915, -65.4177), (-98.214032015, -65.882667985), (-98.679, -67.0052))
            Line((-98.679, -67.0052), (-98.679, -69.651311567))
        make_face()
    extrude(amount=-CORTAR_EXTRUIR11_DEPTH, mode=Mode.SUBTRACT)

    # Croquis12 → Cortar-Extruir12 (cut, through all)
    with BuildSketch(Plane.XY.offset(3.1242)):
        with Locations((38.1, 38.1)):
            Circle(CROQUIS12_R)
        with Locations((-38.1, 38.1)):
            Circle(CROQUIS12_R)
        with Locations((-38.1, -38.1)):
            Circle(CROQUIS12_R)
        with Locations((38.1, -38.1)):
            Circle(CROQUIS12_R)
    extrude(amount=-CORTAR_EXTRUIR12_DEPTH, mode=Mode.SUBTRACT)


solid = part.part
